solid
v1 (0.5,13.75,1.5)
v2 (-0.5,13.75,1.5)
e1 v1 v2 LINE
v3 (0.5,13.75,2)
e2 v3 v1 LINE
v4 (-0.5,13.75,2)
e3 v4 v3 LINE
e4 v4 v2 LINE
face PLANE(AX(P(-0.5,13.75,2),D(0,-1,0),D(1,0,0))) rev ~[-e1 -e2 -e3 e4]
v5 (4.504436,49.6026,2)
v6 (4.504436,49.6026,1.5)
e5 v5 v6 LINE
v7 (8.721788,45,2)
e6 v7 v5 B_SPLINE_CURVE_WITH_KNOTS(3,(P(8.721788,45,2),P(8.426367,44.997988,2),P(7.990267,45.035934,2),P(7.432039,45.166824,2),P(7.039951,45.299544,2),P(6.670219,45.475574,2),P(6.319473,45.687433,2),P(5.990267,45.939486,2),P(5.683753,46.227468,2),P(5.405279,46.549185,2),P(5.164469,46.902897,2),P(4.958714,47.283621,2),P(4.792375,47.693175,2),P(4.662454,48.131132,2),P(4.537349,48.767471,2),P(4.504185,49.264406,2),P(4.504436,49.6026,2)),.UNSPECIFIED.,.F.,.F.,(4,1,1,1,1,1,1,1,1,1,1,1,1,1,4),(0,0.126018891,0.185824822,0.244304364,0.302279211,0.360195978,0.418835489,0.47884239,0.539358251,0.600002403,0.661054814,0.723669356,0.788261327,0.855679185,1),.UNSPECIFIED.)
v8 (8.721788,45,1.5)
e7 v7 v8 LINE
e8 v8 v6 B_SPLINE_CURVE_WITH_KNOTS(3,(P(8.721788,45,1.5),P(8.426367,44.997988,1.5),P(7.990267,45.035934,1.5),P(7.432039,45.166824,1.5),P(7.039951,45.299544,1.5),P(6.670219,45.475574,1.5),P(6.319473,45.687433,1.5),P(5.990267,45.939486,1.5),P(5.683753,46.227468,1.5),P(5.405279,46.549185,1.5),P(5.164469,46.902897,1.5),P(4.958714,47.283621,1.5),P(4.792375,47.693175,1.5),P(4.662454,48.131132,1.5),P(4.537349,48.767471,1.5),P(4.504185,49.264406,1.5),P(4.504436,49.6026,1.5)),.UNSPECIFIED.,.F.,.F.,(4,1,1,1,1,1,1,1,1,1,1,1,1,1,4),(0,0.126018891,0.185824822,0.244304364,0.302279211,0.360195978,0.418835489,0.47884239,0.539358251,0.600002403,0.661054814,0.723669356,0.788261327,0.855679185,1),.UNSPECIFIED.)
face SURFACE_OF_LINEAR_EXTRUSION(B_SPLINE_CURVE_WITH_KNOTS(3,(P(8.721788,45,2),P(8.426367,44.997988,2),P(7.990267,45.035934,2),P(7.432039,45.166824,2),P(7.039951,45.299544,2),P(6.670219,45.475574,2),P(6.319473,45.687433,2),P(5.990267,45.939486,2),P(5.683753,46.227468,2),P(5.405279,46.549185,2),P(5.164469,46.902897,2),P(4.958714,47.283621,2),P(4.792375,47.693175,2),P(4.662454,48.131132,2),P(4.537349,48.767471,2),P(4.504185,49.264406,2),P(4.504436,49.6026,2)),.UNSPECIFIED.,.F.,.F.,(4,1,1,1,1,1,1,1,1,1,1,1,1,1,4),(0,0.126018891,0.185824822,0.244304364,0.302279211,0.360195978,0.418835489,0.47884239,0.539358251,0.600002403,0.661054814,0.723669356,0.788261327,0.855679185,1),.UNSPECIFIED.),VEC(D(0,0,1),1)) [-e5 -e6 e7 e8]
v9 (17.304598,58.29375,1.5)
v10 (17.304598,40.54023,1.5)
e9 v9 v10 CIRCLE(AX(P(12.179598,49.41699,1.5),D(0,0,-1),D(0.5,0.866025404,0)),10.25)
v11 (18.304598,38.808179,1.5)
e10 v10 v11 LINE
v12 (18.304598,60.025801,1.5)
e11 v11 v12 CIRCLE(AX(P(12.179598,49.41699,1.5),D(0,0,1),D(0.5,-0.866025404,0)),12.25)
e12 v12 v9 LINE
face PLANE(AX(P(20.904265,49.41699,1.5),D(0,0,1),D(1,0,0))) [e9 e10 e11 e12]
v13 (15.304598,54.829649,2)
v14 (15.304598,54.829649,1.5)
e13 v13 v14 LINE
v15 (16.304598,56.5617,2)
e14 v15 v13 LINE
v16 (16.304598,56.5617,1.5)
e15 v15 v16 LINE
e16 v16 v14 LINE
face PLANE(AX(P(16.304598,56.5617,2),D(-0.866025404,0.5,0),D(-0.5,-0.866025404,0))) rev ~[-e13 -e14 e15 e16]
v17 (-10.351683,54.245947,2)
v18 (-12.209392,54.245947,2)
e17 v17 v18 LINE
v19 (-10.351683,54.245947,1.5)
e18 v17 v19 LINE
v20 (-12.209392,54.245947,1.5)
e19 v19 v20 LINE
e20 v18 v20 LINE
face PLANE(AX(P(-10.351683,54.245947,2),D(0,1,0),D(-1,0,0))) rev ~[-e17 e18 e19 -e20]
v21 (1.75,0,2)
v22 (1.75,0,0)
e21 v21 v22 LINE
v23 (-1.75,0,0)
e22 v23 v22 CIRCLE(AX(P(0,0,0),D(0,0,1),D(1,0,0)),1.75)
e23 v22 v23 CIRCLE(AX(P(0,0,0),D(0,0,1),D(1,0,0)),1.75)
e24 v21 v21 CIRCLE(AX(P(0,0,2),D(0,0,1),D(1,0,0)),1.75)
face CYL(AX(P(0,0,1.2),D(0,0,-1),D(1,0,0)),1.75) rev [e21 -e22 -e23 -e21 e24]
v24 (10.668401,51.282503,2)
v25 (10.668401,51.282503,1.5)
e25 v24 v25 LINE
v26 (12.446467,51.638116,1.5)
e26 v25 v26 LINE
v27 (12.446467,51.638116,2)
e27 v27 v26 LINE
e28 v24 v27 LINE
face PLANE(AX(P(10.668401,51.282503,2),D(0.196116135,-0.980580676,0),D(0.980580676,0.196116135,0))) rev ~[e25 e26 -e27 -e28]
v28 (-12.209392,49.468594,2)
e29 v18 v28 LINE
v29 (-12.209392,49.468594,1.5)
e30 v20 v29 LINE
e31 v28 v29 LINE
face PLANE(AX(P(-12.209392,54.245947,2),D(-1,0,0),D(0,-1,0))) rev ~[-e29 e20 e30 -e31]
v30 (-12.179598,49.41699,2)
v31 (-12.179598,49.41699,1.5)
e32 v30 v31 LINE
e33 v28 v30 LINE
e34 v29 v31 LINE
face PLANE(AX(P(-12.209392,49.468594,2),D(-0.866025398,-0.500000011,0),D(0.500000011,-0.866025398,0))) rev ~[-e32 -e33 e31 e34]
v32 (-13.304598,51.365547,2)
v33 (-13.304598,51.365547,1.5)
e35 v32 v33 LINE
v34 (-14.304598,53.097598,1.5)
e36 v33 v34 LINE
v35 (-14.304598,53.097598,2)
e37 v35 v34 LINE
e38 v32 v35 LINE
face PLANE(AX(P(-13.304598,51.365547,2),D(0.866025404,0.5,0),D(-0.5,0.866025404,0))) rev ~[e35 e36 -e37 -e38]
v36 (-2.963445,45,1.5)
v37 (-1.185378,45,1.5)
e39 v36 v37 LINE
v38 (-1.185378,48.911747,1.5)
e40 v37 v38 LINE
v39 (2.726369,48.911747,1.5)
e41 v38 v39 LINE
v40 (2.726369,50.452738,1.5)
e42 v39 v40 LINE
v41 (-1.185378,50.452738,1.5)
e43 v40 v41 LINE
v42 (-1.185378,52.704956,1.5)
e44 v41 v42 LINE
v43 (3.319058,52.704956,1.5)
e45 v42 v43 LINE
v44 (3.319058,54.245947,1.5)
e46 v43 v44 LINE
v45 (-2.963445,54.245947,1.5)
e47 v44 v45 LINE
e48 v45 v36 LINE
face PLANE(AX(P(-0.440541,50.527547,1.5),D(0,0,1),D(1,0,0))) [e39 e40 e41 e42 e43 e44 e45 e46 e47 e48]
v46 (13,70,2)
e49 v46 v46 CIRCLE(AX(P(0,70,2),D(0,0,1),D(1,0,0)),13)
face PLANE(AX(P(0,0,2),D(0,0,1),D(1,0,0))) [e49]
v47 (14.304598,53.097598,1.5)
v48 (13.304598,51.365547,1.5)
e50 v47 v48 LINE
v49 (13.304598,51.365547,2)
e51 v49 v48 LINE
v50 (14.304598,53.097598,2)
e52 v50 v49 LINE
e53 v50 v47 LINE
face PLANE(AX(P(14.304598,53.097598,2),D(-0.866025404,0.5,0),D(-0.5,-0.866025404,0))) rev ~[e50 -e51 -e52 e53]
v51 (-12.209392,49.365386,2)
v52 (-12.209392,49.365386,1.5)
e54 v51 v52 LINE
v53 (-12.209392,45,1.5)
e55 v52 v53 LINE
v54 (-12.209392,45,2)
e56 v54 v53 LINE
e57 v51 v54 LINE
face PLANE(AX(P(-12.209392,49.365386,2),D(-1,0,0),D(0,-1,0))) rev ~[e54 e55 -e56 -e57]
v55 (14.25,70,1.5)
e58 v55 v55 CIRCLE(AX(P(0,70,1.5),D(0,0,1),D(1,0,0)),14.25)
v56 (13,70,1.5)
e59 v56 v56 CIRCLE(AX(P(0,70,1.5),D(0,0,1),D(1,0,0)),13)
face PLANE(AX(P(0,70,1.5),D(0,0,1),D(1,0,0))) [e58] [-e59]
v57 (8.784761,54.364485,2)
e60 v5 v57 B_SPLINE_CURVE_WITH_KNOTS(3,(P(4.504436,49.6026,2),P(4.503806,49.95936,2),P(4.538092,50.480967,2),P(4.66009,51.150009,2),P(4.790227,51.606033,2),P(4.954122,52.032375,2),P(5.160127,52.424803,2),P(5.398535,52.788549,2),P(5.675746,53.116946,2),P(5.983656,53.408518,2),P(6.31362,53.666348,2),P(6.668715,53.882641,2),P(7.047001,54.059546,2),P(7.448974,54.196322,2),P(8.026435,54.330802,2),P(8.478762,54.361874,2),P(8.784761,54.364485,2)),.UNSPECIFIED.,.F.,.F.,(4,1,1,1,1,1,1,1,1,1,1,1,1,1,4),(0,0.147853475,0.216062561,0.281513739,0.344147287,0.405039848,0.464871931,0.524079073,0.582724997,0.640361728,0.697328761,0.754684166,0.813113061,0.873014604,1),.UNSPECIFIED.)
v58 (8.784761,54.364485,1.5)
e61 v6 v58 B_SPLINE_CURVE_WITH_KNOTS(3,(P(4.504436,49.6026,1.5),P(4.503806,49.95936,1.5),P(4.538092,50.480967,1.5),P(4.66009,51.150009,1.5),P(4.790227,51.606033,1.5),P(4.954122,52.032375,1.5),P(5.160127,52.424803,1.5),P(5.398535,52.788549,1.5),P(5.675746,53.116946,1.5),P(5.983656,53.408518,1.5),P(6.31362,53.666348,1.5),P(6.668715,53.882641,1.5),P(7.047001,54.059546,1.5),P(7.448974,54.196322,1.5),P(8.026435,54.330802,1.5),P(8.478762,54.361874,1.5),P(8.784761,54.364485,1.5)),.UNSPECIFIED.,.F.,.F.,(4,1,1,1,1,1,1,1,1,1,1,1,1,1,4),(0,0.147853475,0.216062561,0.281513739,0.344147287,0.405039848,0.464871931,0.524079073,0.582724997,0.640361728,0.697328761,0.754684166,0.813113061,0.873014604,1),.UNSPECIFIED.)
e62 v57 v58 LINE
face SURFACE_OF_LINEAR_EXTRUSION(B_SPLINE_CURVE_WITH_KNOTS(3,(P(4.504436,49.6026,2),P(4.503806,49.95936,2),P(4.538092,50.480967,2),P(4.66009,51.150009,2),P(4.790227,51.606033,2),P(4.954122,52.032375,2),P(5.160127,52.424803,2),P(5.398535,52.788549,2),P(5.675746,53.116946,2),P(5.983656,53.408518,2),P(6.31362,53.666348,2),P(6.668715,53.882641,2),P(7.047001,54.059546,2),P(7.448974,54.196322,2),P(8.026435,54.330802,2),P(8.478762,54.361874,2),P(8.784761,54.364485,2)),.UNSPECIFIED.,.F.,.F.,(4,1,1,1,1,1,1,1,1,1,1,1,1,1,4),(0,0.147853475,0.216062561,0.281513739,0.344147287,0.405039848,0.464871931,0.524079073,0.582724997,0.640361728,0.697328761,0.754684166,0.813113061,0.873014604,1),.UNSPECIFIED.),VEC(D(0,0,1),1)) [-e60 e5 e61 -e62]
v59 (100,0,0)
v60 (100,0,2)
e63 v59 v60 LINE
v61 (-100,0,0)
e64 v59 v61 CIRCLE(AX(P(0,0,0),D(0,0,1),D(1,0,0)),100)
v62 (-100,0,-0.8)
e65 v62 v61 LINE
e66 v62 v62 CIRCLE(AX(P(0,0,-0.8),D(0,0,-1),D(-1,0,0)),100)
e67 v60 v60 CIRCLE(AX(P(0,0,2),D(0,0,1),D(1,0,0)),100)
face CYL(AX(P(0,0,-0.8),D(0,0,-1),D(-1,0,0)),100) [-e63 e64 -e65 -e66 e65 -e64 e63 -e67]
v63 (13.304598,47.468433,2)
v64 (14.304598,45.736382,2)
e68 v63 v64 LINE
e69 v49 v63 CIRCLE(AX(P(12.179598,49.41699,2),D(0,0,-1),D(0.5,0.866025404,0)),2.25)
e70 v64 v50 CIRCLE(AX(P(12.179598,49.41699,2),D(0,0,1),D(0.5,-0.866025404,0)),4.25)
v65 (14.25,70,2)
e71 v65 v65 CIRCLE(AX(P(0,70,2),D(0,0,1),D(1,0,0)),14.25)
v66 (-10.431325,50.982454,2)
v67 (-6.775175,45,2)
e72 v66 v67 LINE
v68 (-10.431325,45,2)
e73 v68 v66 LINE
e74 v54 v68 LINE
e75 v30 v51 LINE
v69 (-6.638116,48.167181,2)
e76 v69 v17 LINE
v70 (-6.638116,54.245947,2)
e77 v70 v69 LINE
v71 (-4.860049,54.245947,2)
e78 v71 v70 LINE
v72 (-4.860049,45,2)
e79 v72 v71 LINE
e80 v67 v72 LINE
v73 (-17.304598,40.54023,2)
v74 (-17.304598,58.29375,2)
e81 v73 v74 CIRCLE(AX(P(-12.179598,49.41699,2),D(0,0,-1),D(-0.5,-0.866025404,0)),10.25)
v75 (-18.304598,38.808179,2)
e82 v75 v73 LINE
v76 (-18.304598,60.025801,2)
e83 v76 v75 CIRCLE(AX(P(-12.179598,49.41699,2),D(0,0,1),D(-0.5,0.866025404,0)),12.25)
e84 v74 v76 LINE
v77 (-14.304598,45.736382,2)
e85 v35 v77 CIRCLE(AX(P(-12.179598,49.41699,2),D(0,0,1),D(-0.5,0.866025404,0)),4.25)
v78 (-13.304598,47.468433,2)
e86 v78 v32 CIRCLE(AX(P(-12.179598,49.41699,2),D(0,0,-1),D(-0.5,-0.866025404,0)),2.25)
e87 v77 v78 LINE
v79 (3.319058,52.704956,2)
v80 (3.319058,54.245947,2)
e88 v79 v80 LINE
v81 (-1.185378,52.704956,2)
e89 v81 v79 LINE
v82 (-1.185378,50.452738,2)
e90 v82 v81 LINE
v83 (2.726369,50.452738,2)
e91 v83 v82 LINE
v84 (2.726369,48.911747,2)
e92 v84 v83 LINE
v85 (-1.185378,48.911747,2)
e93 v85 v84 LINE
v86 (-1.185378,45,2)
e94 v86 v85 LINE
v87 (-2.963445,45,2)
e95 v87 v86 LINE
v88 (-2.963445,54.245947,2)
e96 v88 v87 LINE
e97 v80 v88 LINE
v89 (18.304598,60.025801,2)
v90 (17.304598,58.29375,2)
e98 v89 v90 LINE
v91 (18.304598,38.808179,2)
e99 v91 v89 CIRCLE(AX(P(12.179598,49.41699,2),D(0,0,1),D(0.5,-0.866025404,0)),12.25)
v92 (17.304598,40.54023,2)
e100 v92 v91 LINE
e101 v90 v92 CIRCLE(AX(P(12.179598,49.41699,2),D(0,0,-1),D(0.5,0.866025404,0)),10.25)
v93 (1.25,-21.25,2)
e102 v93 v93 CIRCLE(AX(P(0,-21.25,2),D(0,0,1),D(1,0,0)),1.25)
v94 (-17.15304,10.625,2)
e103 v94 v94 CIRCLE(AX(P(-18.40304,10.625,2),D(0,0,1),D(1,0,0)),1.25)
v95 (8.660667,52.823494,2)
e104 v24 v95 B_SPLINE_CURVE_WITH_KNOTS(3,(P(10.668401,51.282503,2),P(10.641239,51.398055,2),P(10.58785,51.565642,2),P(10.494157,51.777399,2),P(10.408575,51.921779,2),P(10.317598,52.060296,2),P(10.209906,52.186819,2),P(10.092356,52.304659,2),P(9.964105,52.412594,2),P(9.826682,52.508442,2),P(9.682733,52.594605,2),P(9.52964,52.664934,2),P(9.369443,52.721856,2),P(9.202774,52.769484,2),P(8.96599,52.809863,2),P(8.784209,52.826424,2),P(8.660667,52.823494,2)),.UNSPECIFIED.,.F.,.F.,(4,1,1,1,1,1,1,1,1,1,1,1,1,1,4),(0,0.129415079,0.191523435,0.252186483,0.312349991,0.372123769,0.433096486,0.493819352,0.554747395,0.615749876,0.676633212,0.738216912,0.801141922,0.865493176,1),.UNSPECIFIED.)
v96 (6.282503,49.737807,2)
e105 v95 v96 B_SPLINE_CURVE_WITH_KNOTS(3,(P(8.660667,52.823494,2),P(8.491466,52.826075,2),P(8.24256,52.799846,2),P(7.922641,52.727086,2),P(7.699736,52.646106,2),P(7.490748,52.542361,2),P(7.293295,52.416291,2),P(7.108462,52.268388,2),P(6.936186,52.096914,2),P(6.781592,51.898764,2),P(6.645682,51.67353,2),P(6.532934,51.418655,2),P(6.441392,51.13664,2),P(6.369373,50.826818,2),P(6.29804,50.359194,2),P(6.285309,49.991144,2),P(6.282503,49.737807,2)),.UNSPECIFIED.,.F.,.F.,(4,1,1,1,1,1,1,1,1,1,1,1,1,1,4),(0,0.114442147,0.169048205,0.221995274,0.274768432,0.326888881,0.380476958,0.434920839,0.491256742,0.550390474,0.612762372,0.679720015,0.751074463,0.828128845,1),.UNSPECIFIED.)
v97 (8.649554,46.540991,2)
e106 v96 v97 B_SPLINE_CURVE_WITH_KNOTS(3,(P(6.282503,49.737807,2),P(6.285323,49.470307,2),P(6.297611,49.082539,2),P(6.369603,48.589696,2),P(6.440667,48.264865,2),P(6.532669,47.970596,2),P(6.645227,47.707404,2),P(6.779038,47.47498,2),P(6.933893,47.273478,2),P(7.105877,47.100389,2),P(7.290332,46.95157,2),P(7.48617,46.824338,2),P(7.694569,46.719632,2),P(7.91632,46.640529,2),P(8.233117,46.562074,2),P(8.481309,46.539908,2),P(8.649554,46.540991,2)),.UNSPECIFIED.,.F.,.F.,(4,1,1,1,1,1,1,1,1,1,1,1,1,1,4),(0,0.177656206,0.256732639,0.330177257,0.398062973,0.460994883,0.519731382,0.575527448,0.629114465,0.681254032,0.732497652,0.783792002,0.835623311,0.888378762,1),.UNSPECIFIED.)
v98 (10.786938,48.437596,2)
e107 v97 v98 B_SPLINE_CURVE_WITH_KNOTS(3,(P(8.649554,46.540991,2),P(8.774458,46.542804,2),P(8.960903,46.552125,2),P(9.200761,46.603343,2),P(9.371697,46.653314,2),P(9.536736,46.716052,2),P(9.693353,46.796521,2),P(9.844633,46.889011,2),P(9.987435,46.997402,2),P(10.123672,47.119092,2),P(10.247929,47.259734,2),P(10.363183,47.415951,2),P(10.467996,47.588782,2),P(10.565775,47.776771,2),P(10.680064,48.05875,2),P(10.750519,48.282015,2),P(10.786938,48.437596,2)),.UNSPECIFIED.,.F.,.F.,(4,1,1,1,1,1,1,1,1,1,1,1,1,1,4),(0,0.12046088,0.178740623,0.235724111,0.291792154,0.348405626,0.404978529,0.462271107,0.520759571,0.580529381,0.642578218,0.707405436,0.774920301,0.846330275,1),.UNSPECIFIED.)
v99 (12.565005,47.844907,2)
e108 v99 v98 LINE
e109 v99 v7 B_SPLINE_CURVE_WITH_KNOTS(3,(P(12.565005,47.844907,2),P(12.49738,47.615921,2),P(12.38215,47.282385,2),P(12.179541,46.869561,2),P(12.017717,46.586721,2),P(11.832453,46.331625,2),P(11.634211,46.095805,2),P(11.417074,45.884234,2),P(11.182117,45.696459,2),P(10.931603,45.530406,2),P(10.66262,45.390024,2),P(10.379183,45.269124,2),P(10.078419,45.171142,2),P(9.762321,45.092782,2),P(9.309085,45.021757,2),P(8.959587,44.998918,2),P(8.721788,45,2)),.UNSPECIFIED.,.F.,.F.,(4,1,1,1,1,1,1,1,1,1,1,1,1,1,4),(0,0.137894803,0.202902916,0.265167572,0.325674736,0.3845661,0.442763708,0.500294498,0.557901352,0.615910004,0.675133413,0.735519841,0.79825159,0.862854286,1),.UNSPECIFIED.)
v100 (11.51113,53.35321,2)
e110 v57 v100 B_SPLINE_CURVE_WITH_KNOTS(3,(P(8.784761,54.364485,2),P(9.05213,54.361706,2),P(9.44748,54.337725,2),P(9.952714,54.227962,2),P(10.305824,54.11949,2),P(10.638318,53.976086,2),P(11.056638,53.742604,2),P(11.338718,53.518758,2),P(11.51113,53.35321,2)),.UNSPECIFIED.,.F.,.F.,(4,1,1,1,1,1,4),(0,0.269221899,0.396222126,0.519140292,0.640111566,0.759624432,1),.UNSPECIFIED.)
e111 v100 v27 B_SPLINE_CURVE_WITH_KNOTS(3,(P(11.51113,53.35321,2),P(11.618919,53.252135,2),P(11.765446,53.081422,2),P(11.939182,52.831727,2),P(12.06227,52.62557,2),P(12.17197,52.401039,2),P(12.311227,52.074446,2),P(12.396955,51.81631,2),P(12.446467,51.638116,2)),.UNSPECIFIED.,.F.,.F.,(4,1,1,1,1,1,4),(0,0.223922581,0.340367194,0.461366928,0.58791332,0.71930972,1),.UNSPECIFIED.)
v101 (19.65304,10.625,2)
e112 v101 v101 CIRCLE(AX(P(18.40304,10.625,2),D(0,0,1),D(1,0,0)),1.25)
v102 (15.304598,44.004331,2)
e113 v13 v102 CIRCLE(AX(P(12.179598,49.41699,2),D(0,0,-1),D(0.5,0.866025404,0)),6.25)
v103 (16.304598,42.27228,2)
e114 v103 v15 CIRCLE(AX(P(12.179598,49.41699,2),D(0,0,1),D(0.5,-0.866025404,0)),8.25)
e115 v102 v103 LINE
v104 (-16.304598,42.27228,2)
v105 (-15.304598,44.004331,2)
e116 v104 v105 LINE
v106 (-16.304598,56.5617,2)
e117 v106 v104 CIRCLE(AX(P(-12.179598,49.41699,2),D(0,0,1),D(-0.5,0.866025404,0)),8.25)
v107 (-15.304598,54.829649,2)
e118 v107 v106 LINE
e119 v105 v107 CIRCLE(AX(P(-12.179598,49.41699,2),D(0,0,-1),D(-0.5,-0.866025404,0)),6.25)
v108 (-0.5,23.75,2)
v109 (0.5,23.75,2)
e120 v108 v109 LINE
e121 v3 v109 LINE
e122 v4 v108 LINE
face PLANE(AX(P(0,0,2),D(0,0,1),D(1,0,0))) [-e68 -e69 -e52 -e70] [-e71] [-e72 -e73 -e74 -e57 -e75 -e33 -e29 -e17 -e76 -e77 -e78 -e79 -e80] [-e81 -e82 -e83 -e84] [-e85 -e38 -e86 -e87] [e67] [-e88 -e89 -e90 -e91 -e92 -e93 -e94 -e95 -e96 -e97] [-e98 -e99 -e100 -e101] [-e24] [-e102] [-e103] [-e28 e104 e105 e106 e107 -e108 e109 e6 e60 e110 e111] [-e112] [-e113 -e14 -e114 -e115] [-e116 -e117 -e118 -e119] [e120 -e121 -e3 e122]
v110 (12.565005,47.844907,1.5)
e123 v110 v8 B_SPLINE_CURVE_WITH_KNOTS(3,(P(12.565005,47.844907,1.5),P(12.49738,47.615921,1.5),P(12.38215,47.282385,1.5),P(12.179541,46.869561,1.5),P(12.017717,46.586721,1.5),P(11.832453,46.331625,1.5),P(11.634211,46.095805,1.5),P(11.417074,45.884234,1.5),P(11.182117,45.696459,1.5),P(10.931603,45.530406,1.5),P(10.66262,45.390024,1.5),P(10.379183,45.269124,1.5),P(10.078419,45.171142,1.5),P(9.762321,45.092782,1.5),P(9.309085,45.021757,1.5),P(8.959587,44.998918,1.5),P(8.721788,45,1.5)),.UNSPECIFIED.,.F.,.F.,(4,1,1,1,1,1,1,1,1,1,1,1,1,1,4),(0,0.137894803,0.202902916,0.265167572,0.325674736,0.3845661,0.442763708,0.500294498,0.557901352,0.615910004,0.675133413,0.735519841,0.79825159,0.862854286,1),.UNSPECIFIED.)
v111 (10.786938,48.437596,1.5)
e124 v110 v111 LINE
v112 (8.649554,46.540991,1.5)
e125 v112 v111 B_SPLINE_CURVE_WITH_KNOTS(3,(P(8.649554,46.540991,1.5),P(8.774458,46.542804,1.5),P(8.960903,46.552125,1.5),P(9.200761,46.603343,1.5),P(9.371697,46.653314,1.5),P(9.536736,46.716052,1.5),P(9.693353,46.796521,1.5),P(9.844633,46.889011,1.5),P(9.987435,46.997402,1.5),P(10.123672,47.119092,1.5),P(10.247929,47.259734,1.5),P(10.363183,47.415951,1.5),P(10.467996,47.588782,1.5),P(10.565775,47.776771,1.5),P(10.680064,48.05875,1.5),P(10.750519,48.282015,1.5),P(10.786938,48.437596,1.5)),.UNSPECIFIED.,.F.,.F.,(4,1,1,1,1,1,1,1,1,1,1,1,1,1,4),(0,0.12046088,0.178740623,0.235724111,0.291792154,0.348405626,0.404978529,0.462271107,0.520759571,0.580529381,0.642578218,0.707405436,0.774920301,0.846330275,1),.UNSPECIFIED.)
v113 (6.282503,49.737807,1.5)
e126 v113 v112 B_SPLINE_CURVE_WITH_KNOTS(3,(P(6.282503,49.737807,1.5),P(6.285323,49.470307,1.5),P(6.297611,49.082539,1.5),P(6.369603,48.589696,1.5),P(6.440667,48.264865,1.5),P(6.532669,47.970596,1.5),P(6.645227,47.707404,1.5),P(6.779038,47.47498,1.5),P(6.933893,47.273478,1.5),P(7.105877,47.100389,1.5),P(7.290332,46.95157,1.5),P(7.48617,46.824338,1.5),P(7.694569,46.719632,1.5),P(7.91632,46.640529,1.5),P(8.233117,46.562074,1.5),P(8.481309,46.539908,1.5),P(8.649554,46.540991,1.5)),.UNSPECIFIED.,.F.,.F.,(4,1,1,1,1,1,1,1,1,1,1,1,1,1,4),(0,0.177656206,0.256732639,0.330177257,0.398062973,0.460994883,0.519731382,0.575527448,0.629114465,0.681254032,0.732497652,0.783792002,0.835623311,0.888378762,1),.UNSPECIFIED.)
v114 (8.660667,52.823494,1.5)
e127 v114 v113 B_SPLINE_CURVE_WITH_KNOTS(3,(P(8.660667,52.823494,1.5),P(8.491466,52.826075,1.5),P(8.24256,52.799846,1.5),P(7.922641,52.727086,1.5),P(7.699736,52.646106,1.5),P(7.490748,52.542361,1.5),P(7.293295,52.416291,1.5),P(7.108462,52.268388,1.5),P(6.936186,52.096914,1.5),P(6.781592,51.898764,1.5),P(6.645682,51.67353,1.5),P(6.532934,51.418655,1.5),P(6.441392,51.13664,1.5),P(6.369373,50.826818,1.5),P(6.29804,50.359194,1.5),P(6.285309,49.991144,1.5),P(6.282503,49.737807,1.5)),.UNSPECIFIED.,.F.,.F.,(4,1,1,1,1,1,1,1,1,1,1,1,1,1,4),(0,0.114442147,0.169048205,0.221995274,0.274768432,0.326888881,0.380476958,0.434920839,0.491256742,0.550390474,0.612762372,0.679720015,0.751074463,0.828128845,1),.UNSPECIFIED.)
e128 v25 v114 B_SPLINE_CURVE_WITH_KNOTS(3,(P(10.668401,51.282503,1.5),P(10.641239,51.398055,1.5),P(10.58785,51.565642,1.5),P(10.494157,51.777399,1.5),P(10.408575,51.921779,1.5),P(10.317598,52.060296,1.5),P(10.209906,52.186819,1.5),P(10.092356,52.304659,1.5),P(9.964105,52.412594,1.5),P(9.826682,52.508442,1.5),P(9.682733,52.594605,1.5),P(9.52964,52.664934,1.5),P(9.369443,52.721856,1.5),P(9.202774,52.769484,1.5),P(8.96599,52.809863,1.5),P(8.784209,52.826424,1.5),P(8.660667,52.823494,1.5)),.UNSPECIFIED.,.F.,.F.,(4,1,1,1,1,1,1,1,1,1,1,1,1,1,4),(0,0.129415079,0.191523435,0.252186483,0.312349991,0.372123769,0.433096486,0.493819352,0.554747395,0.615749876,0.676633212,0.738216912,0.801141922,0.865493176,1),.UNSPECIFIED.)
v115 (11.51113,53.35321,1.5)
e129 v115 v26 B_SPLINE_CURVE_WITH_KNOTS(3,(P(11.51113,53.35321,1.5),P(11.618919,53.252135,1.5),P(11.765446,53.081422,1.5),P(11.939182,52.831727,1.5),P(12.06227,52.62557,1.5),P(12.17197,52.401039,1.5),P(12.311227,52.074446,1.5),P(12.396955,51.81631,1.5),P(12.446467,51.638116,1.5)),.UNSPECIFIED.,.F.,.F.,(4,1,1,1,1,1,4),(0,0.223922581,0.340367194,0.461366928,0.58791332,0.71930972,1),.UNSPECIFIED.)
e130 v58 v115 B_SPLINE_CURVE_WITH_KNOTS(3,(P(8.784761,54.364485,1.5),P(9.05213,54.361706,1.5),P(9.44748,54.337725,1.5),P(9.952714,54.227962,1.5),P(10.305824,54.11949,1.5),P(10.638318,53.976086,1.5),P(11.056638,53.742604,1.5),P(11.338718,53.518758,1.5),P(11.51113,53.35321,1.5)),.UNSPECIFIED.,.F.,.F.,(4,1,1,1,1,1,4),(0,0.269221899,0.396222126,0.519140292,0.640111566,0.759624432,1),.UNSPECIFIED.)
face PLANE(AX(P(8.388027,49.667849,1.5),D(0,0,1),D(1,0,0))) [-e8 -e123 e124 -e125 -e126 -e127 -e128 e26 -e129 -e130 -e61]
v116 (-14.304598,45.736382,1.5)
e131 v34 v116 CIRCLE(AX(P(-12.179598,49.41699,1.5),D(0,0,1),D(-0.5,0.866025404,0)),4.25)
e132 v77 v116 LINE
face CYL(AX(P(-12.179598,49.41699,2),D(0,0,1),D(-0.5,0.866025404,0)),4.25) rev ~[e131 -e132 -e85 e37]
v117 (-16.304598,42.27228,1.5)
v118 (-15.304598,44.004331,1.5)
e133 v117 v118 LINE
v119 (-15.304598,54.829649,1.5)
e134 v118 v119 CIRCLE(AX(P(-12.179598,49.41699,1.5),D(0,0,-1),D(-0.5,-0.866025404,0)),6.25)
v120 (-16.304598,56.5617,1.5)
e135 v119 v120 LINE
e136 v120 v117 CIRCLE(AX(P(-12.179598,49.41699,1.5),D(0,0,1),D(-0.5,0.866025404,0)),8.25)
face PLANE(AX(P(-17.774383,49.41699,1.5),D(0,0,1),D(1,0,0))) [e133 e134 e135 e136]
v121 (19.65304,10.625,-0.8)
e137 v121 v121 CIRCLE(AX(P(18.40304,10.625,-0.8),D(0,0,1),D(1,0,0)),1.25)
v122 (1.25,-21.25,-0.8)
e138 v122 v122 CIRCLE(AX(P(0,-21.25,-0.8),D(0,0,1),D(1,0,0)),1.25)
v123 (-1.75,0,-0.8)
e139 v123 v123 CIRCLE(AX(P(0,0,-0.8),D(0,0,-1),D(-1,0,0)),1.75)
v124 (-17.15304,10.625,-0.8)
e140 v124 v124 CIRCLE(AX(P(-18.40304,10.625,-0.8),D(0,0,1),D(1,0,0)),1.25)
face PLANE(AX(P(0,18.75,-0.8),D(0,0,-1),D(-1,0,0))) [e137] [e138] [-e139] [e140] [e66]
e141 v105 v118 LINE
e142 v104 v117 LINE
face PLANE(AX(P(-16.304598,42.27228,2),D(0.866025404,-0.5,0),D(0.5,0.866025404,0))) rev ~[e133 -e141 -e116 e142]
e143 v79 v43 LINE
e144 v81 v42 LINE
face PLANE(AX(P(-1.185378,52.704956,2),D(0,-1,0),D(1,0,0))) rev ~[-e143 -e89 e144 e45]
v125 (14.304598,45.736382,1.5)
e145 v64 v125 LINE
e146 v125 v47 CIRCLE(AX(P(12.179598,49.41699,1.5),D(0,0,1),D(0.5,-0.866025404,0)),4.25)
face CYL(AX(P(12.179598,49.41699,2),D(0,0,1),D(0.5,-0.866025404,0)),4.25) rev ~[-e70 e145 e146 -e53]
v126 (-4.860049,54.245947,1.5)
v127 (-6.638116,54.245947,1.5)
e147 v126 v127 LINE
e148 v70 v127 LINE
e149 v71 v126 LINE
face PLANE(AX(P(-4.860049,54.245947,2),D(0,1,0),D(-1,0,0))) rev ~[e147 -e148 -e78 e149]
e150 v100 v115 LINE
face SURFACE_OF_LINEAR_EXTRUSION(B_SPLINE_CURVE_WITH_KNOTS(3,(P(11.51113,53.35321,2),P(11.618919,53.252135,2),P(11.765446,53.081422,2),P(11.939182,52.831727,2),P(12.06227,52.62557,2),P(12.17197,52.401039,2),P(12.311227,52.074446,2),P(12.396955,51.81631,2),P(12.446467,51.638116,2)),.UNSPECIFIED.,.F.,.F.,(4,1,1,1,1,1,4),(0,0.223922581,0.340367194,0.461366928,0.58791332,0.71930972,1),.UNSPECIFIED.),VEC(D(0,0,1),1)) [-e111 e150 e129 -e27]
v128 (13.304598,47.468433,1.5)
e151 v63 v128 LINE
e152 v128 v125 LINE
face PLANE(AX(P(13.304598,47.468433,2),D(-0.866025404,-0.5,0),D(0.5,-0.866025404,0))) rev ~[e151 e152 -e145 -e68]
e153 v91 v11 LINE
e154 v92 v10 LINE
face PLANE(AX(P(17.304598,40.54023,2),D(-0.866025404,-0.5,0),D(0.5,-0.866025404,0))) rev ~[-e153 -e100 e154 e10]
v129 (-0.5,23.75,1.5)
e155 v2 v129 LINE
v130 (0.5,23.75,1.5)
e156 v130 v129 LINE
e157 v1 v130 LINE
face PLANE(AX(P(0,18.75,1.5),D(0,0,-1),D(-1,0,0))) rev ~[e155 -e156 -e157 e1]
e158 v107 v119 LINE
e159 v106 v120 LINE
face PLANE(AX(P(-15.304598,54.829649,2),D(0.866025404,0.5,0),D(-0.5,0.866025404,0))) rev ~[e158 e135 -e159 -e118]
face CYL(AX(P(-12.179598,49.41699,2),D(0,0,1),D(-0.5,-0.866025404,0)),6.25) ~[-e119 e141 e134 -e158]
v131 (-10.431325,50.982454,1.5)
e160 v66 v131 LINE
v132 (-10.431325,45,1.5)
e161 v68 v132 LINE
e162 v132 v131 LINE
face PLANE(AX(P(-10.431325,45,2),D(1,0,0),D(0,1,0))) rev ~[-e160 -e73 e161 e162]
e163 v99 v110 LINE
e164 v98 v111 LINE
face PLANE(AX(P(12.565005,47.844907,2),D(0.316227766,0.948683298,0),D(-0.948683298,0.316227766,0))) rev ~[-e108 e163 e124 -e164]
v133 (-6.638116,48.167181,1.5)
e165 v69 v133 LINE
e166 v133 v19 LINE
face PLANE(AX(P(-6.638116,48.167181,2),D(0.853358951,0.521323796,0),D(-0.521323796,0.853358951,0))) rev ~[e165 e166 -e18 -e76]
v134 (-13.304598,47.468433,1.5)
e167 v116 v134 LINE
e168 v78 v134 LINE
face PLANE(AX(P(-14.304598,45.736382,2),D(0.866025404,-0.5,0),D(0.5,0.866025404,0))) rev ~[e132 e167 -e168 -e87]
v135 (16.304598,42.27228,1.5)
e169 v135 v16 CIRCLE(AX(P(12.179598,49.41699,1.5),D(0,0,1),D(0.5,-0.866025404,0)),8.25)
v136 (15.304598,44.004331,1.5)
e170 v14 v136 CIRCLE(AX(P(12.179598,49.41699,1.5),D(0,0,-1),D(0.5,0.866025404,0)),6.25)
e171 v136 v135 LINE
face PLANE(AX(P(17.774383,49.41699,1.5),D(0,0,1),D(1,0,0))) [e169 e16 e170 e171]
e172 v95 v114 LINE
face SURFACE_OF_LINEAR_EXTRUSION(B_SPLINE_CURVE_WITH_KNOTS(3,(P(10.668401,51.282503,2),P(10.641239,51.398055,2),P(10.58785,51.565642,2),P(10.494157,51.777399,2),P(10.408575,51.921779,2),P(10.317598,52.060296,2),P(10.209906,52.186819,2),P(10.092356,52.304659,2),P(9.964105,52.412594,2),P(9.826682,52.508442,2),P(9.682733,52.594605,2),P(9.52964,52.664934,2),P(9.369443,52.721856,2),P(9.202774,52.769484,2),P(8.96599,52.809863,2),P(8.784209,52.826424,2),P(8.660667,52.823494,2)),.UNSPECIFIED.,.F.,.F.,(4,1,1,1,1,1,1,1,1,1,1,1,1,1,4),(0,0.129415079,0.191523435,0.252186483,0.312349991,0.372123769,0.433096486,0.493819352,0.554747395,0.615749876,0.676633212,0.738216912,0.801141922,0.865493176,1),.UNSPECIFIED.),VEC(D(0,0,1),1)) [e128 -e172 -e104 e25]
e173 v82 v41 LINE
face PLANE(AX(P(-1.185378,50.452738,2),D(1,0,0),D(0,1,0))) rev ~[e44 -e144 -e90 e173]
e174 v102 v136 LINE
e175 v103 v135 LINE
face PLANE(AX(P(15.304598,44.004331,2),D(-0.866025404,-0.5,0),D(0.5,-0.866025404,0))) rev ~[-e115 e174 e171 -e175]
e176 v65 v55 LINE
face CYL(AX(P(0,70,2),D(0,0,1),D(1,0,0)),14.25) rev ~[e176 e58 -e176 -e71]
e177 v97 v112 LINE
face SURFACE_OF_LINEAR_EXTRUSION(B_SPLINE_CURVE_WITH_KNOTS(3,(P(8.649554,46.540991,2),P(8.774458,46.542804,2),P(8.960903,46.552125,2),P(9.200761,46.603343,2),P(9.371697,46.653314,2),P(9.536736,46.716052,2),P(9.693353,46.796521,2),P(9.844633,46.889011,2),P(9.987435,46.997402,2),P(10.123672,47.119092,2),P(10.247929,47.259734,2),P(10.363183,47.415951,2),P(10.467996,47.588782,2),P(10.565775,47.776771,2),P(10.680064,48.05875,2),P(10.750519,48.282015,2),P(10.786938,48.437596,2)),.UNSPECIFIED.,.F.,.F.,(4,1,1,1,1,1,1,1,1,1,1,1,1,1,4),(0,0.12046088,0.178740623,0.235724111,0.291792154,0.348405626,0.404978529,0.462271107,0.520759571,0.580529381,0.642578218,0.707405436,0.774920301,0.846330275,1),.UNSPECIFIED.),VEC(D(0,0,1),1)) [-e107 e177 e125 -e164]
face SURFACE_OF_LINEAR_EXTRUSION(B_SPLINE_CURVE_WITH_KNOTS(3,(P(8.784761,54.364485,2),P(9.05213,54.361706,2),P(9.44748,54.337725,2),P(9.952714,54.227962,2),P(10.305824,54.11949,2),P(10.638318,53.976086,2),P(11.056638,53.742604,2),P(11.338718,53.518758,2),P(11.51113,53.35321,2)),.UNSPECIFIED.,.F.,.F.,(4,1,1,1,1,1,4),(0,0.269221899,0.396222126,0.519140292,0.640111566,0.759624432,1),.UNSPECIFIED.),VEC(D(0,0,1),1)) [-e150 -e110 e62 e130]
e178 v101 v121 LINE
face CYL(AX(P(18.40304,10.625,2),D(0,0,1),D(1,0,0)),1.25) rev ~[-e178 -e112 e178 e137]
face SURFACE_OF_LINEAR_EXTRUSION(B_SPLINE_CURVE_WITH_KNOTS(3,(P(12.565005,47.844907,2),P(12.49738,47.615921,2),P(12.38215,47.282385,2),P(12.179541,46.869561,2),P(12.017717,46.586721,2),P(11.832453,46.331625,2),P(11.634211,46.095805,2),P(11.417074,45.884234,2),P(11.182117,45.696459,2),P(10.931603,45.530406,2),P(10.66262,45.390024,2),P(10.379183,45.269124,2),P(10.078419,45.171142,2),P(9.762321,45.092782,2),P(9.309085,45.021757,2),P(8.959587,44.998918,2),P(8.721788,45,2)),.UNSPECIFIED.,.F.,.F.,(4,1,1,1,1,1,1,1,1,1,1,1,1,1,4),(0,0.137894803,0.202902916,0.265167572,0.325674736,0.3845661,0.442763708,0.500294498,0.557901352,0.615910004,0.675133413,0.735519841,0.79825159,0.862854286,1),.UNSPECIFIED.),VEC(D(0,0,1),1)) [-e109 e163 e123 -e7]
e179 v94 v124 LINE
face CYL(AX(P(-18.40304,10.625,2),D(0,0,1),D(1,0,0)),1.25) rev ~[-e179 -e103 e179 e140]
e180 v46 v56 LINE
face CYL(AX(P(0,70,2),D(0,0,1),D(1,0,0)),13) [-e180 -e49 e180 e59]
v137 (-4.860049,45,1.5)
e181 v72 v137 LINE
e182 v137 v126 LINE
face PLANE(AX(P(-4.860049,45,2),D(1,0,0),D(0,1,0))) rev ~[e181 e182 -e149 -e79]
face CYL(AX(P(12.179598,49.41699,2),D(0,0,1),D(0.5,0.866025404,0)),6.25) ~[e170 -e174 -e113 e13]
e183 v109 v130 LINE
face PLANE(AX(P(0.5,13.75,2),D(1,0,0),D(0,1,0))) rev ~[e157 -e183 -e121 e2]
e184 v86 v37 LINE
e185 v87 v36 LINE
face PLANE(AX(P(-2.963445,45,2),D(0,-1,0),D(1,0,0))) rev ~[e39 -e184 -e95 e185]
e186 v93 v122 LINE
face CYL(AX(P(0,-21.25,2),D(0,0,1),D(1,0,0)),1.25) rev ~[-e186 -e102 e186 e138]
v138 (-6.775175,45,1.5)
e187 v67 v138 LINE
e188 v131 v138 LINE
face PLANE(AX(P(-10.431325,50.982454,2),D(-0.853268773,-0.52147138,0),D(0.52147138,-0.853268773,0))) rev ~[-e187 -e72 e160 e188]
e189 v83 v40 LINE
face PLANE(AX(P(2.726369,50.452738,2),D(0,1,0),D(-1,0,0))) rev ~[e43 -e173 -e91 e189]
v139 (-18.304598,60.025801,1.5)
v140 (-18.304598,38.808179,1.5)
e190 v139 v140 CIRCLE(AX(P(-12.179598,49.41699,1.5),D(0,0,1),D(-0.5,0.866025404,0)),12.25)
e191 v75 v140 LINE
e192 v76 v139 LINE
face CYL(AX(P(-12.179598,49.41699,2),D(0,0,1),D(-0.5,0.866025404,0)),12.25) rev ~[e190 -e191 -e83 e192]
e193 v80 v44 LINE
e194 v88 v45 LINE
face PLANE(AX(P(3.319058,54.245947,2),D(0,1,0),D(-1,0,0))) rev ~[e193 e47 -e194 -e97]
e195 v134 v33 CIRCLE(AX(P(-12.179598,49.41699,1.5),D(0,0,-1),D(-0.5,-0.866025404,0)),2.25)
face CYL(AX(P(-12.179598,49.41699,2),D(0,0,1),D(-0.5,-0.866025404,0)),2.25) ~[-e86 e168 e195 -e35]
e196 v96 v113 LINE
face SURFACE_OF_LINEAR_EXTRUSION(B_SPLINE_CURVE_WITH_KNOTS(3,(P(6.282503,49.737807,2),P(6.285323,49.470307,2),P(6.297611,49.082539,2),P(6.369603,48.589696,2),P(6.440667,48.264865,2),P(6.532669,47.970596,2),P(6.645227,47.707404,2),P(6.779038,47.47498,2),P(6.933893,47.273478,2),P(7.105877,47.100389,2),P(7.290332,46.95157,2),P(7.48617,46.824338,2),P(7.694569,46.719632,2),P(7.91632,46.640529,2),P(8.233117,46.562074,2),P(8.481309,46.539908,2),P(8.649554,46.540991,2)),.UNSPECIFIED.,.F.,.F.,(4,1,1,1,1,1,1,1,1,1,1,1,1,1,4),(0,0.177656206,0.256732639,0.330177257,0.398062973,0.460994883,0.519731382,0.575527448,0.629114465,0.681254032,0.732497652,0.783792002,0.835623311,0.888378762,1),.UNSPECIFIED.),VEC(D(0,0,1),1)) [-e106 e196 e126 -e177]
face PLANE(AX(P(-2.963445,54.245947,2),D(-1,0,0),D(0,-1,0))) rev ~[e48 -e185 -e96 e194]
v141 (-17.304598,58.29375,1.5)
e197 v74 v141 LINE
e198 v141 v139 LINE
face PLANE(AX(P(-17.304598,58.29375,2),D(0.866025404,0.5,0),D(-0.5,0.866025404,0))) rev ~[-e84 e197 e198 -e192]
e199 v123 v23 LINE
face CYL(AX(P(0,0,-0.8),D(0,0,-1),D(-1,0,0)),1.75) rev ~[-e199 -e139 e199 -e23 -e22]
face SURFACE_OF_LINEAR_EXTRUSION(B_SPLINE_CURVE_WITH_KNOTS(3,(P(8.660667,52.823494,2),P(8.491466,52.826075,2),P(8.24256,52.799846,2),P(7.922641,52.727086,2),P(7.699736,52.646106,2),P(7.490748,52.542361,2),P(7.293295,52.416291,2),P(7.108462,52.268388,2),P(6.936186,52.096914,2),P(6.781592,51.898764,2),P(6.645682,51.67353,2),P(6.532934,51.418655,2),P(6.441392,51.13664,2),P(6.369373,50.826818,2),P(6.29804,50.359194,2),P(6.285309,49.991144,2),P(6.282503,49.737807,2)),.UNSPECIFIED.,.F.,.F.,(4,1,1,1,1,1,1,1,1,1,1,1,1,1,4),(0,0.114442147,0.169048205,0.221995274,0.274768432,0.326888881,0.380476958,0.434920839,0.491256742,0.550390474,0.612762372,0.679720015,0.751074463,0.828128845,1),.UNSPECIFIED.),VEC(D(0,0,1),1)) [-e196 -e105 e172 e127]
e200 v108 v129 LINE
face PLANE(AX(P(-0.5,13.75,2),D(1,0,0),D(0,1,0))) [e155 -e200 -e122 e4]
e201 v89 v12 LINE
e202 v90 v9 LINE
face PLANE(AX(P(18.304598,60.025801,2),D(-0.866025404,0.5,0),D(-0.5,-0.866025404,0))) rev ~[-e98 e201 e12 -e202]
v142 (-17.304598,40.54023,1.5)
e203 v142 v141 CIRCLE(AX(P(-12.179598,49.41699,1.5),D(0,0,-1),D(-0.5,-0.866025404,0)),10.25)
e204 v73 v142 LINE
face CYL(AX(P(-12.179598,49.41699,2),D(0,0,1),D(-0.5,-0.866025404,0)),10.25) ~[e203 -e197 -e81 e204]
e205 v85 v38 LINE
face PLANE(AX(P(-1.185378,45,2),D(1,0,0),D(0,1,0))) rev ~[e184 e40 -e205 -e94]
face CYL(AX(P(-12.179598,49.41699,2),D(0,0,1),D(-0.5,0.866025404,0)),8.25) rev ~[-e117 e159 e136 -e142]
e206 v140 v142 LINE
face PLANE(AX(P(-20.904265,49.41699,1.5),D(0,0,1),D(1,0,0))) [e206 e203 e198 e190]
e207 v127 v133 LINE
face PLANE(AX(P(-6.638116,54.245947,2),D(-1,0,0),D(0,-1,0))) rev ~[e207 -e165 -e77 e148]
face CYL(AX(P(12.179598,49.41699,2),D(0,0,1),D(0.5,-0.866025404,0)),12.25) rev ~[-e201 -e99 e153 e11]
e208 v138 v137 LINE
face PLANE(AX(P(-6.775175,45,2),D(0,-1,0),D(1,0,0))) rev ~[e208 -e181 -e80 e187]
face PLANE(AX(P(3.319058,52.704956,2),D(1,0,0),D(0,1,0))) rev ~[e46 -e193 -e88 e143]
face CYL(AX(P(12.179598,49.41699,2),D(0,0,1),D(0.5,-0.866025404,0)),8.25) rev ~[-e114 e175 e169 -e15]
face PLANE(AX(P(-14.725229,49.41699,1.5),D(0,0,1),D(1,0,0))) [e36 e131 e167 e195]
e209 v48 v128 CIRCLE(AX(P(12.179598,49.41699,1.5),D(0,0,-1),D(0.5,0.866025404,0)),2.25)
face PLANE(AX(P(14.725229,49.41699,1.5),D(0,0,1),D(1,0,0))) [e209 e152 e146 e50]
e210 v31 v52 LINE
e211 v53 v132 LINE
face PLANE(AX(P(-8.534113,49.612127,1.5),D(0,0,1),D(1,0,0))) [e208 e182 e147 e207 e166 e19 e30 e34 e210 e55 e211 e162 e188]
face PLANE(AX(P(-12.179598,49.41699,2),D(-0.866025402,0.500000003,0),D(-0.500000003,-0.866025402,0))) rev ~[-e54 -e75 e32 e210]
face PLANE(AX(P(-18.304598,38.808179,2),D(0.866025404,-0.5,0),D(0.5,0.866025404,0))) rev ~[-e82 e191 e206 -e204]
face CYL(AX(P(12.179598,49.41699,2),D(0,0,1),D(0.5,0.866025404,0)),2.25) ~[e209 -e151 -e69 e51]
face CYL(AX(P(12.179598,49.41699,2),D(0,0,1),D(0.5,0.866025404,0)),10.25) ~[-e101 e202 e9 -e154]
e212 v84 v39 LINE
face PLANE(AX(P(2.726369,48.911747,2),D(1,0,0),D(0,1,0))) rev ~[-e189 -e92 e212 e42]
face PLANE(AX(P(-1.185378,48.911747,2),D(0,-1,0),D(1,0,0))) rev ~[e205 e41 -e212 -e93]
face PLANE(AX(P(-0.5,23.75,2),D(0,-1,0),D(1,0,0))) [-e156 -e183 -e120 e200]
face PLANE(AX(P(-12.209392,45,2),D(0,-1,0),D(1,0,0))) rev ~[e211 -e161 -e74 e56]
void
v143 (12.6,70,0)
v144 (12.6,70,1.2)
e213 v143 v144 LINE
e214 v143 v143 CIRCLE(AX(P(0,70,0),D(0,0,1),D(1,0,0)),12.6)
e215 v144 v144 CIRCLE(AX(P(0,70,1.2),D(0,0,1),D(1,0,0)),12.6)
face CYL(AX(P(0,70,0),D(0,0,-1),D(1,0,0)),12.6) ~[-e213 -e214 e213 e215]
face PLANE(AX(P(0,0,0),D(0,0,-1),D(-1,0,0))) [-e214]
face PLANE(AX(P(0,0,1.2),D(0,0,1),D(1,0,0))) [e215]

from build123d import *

# Parameters (mm, degrees)
SKETCH1_R           = 100
SKETCH1_R_2         = 12.6
SKETCH1_R_3         = 1.75
BOSS_EXTRUDE1_DEPTH = 1.2
SKETCH2_R           = 100
SKETCH2_R_2         = 1.75
BOSS_EXTRUDE2_DEPTH = 0.8
SKETCH3_R           = 14.25
SKETCH3_R_2         = 13
CUT_EXTRUDE1_DEPTH  = 0.5
BOSS_EXTRUDE3_START = 0.8
SKETCH4_R           = 100
SKETCH4_R_2         = 1.75
BOSS_EXTRUDE3_DEPTH = 0.8
SKETCH5_R           = 1.25
SKETCH5_W           = 1
SKETCH5_H           = 10
CUT_EXTRUDE2_DEPTH  = 2.8
SKETCH6_W           = 1
SKETCH6_H           = 10
BOSS_EXTRUDE4_DEPTH = 2.3


with BuildPart() as part:
    # Sketch1 → Boss-Extrude1 (new body)
    with BuildSketch(Plane.XY):
        Circle(SKETCH1_R)
        with Locations((0, 70)):
            Circle(SKETCH1_R_2, mode=Mode.SUBTRACT)
        Circle(SKETCH1_R_3, mode=Mode.SUBTRACT)
    extrude(amount=BOSS_EXTRUDE1_DEPTH)

    # Sketch2 → Boss-Extrude2 (add)
    with BuildSketch(Plane.XY.offset(1.2)):
        Circle(SKETCH2_R)
        Circle(SKETCH2_R_2, mode=Mode.SUBTRACT)
    extrude(amount=BOSS_EXTRUDE2_DEPTH)

    # Sketch3 → Cut-Extrude1 (cut)
    # profile 1 of 10: a face of its own
    with BuildSketch(Plane.XY.offset(2)):
        with BuildLine():
            Line((-14.304598289, 45.736382), (-13.304598289, 47.468432807))
            ThreePointArc((-13.304598289, 47.468432807), (-14.429598289, 49.416989966), (-13.304598289, 51.365547124))
            Line((-13.304598289, 51.365547124), (-14.304598289, 53.097597932))
            ThreePointArc((-14.304598289, 53.097597932), (-16.429598289, 49.416989966), (-14.304598289, 45.736382))
        make_face()
    # profile 2 of 10: a face of its own
    with BuildSketch(Plane.XY.offset(2)):
        Polygon((-12.179598289, 49.416989966), (-12.209391902, 49.365385915), (-12.209391902, 45), (-10.43132512, 45), (-10.43132512, 50.98245386), (-6.7751753, 45), (-4.860049204, 45), (-4.860049204, 54.245947266), (-6.638115986, 54.245947266), (-6.638115986, 48.167181455), (-10.351682546, 54.245947266), (-12.209391902, 54.245947266), (-12.209391902, 49.468594016), align=None)
    # profile 3 of 10: a face of its own
    with BuildSketch(Plane.XY.offset(2)):
        with BuildLine():
            Line((-16.304598289, 42.272280384), (-15.304598289, 44.004331192))
            ThreePointArc((-15.304598289, 44.004331192), (-18.429598289, 49.416989966), (-15.304598289, 54.829648739))
            Line((-15.304598289, 54.829648739), (-16.304598289, 56.561699547))
            ThreePointArc((-16.304598289, 56.561699547), (-20.429598289, 49.416989966), (-16.304598289, 42.272280384))
        make_face()
    # profile 4 of 10: a face of its own
    with BuildSketch(Plane.XY.offset(2)):
        with BuildLine():
            Line((-18.304598289, 38.808178769), (-17.304598289, 40.540229577))
            ThreePointArc((-17.304598289, 40.540229577), (-22.429598289, 49.416989966), (-17.304598289, 58.293750354))
            Line((-17.304598289, 58.293750354), (-18.304598289, 60.025801162))
            ThreePointArc((-18.304598289, 60.025801162), (-24.429598289, 49.416989966), (-18.304598289, 38.808178769))
        make_face()
    # profile 5 of 10: a face of its own
    with BuildSketch(Plane.XY.offset(2)):
        with BuildLine():
            ThreePointArc((13.304598289, 51.365547124), (14.429598289, 49.416989966), (13.304598289, 47.468432807))
            Line((13.304598289, 47.468432807), (14.304598289, 45.736382))
            ThreePointArc((14.304598289, 45.736382), (16.429598289, 49.416989966), (14.304598289, 53.097597932))
            Line((14.304598289, 53.097597932), (13.304598289, 51.365547124))
        make_face()
    # profile 6 of 10: a face of its own
    with BuildSketch(Plane.XY.offset(2)):
        with BuildLine():
            ThreePointArc((15.304598289, 54.829648739), (18.429598289, 49.416989966), (15.304598289, 44.004331192))
            Line((15.304598289, 44.004331192), (16.304598289, 42.272280384))
            ThreePointArc((16.304598289, 42.272280384), (20.429598289, 49.416989966), (16.304598289, 56.561699547))
            Line((16.304598289, 56.561699547), (15.304598289, 54.829648739))
        make_face()
    # profile 7 of 10: a face of its own
    with BuildSketch(Plane.XY.offset(2)):
        with BuildLine():
            ThreePointArc((17.304598289, 58.293750354), (22.429598289, 49.416989966), (17.304598289, 40.540229577))
            Line((17.304598289, 40.540229577), (18.304598289, 38.808178769))
            ThreePointArc((18.304598289, 38.808178769), (24.429598289, 49.416989966), (18.304598289, 60.025801162))
            Line((18.304598289, 60.025801162), (17.304598289, 58.293750354))
        make_face()
    # profile 8 of 10: a face of its own
    with BuildSketch(Plane.XY.offset(2)):
        Polygon((-2.963444636, 54.245947266), (-2.963444636, 45), (-1.185377855, 45), (-1.185377855, 48.91174692), (2.726369066, 48.91174692), (2.726369066, 50.452738131), (-1.185377855, 50.452738131), (-1.185377855, 52.704956055), (3.319057993, 52.704956055), (3.319057993, 54.245947266), align=None)
    # profile 9 of 10: a face of its own
    with BuildSketch(Plane.XY.offset(2)):
        with BuildLine():
            Line((12.565005258, 47.844906851), (10.786938477, 48.437595778))
            add(Edge.make_bspline(
                [(8.649554033, 46.540991211), (8.774457906, 46.542804078), (8.960902987, 46.552124821), (9.200761468, 46.603342992), (9.371697205, 46.653314203), (9.536735909, 46.716051803), (9.693353441, 46.796521205), (9.844632955, 46.889011376), (9.987435142, 46.997402051), (10.123671935, 47.119091548), (10.24792915, 47.259733892), (10.363183369, 47.415951417), (10.467995906, 47.588781763), (10.565774579, 47.776770817), (10.680063587, 48.058750047), (10.75051939, 48.282015418), (10.786938477, 48.437595778)],
                knots=[0, 0, 0, 0, 0.12046088, 0.178740623, 0.235724111, 0.291792154, 0.348405626, 0.404978529, 0.462271107, 0.520759571, 0.580529381, 0.642578218, 0.707405436, 0.774920301, 0.846330275, 1, 1, 1, 1], degree=3))
            add(Edge.make_bspline(
                [(6.282502629, 49.737807112), (6.285322977, 49.470306981), (6.297610529, 49.082539498), (6.369602887, 48.589695915), (6.440666935, 48.264864831), (6.532669328, 47.970595781), (6.645226739, 47.70740396), (6.779038197, 47.474979778), (6.933893175, 47.273478116), (7.10587723, 47.100389393), (7.290332212, 46.951570368), (7.486169728, 46.82433845), (7.694568912, 46.719631559), (7.916319835, 46.640528882), (8.233117363, 46.562073655), (8.481308806, 46.539908407), (8.649554033, 46.540991211)],
                knots=[0, 0, 0, 0, 0.177656206, 0.256732639, 0.330177257, 0.398062973, 0.460994883, 0.519731382, 0.575527448, 0.629114465, 0.681254032, 0.732497652, 0.783792002, 0.835623311, 0.888378762, 1, 1, 1, 1], degree=3))
            add(Edge.make_bspline(
                [(8.66066695, 52.82349384), (8.491465901, 52.826075047), (8.242559674, 52.799846285), (7.922640611, 52.727085572), (7.699736188, 52.646106315), (7.49074803, 52.54236084), (7.293294797, 52.416290582), (7.108461861, 52.268387934), (6.93618627, 52.096913588), (6.781592493, 51.898763678), (6.645681991, 51.673529995), (6.532934048, 51.418655469), (6.441392441, 51.136639915), (6.369372519, 50.826818405), (6.298040133, 50.35919413), (6.285308784, 49.991144174), (6.282502629, 49.737807112)],
                knots=[0, 0, 0, 0, 0.114442147, 0.169048205, 0.221995274, 0.274768432, 0.326888881, 0.380476958, 0.434920839, 0.491256742, 0.550390474, 0.612762372, 0.679720015, 0.751074463, 0.828128845, 1, 1, 1, 1], degree=3))
            add(Edge.make_bspline(
                [(10.668400691, 51.282502629), (10.641238914, 51.398054972), (10.587850378, 51.565642196), (10.494156792, 51.777398501), (10.408574753, 51.921779276), (10.317598271, 52.060296222), (10.209906332, 52.186819303), (10.09235562, 52.304658865), (9.964105005, 52.412593655), (9.82668186, 52.508441667), (9.682732574, 52.594604872), (9.529640338, 52.664934387), (9.369443041, 52.721855687), (9.202773529, 52.769483738), (8.965989688, 52.809862605), (8.784209014, 52.826424315), (8.66066695, 52.82349384)],
                knots=[0, 0, 0, 0, 0.129415079, 0.191523435, 0.252186483, 0.312349991, 0.372123769, 0.433096486, 0.493819352, 0.554747395, 0.615749876, 0.676633212, 0.738216912, 0.801141922, 0.865493176, 1, 1, 1, 1], degree=3))
            Line((10.668400691, 51.282502629), (12.446467473, 51.638115986))
            add(Edge.make_bspline(
                [(11.51113026, 53.353209569), (11.618919371, 53.252134624), (11.765446177, 53.081421549), (11.939181695, 52.831726814), (12.062269606, 52.625570238), (12.171970389, 52.4010392), (12.311226739, 52.074446139), (12.396954988, 51.816309851), (12.446467473, 51.638115986)],
                knots=[0, 0, 0, 0, 0.223922581, 0.340367194, 0.461366928, 0.58791332, 0.71930972, 1, 1, 1, 1], degree=3))
            add(Edge.make_bspline(
                [(8.784761194, 54.364485051), (9.05213035, 54.36170592), (9.447480124, 54.337725331), (9.952714034, 54.227961891), (10.305824473, 54.11948993), (10.638318496, 53.976085526), (11.056637945, 53.742604246), (11.338718425, 53.518758054), (11.51113026, 53.353209569)],
                knots=[0, 0, 0, 0, 0.269221899, 0.396222126, 0.519140292, 0.640111566, 0.759624432, 1, 1, 1, 1], degree=3))
            add(Edge.make_bspline(
                [(4.504435847, 49.602599951), (4.503806189, 49.95935967), (4.53809244, 50.480966902), (4.660090028, 51.150009144), (4.790227099, 51.606032572), (4.954122369, 52.032375199), (5.160126736, 52.424803313), (5.398535284, 52.788549361), (5.675745533, 53.116946458), (5.983655723, 53.408518035), (6.31361956, 53.666348484), (6.66871472, 53.882641187), (7.047001045, 54.059546034), (7.448974215, 54.196322464), (8.026435231, 54.330802367), (8.478762466, 54.361874395), (8.784761194, 54.364485051)],
                knots=[0, 0, 0, 0, 0.147853475, 0.216062561, 0.281513739, 0.344147287, 0.405039848, 0.464871931, 0.524079073, 0.582724997, 0.640361728, 0.697328761, 0.754684166, 0.813113061, 0.873014604, 1, 1, 1, 1], degree=3))
            add(Edge.make_bspline(
                [(8.721787996, 45), (8.426367251, 44.997988178), (7.990266773, 45.035933953), (7.432039385, 45.166823587), (7.03995053, 45.29954369), (6.670218657, 45.47557439), (6.319473407, 45.687433116), (5.990266678, 45.939486093), (5.683753354, 46.22746781), (5.405279268, 46.5491846), (5.164468655, 46.902896762), (4.958714021, 47.283621418), (4.792375452, 47.693174913), (4.662454179, 48.131132452), (4.537348729, 48.767470915), (4.504184947, 49.264405834), (4.504435847, 49.602599951)],
                knots=[0, 0, 0, 0, 0.126018891, 0.185824822, 0.244304364, 0.302279211, 0.360195978, 0.418835489, 0.47884239, 0.539358251, 0.600002403, 0.661054814, 0.723669356, 0.788261327, 0.855679185, 1, 1, 1, 1], degree=3))
            add(Edge.make_bspline(
                [(12.565005258, 47.844906851), (12.497380357, 47.615920501), (12.382150303, 47.28238474), (12.179541249, 46.869560595), (12.017716763, 46.586721298), (11.832453107, 46.331624647), (11.634211253, 46.095805011), (11.41707355, 45.884234212), (11.182117383, 45.696459001), (10.931602763, 45.530405863), (10.662620144, 45.390024222), (10.379183478, 45.269124387), (10.078419057, 45.171142401), (9.76232112, 45.0927817), (9.309084503, 45.021757353), (8.959586718, 44.99891792), (8.721787996, 45)],
                knots=[0, 0, 0, 0, 0.137894803, 0.202902916, 0.265167572, 0.325674736, 0.3845661, 0.442763708, 0.500294498, 0.557901352, 0.615910004, 0.675133413, 0.735519841, 0.79825159, 0.862854286, 1, 1, 1, 1], degree=3))
        make_face()
    # profile 10 of 10: a face of its own
    with BuildSketch(Plane.XY.offset(2)):
        with Locations((0, 70)):
            Circle(SKETCH3_R)
        with Locations((0, 70)):
            Circle(SKETCH3_R_2, mode=Mode.SUBTRACT)
    extrude(amount=-CUT_EXTRUDE1_DEPTH, mode=Mode.SUBTRACT)

    # Sketch4 → Boss-Extrude3 (add)
    with BuildSketch(Plane(origin=(0, 0, 0), x_dir=(-1, 0, 0), z_dir=(0, 0, -1)).offset(BOSS_EXTRUDE3_START)):
        Circle(SKETCH4_R)
        Circle(SKETCH4_R_2, mode=Mode.SUBTRACT)
    extrude(amount=-BOSS_EXTRUDE3_DEPTH)

    # Sketch5 → Cut-Extrude2 (cut)
    with BuildSketch(Plane.XY.offset(2)):
        with Locations((0, -21.25)):
            Circle(SKETCH5_R)
        with Locations((-18.40303983, 10.625)):
            Circle(SKETCH5_R)
        with Locations((18.40303983, 10.625)):
            Circle(SKETCH5_R)
        with Locations((0, 18.75)):
            Rectangle(SKETCH5_W, SKETCH5_H)
    extrude(amount=-CUT_EXTRUDE2_DEPTH, mode=Mode.SUBTRACT)

    # Sketch6 → Boss-Extrude4 (add)
    with BuildSketch(Plane(origin=(0, 0, -0.8), x_dir=(-1, 0, 0), z_dir=(0, 0, -1))):
        with Locations((0, 18.75)):
            Rectangle(SKETCH6_W, SKETCH6_H)
    extrude(amount=-BOSS_EXTRUDE4_DEPTH)


solid = part.part
